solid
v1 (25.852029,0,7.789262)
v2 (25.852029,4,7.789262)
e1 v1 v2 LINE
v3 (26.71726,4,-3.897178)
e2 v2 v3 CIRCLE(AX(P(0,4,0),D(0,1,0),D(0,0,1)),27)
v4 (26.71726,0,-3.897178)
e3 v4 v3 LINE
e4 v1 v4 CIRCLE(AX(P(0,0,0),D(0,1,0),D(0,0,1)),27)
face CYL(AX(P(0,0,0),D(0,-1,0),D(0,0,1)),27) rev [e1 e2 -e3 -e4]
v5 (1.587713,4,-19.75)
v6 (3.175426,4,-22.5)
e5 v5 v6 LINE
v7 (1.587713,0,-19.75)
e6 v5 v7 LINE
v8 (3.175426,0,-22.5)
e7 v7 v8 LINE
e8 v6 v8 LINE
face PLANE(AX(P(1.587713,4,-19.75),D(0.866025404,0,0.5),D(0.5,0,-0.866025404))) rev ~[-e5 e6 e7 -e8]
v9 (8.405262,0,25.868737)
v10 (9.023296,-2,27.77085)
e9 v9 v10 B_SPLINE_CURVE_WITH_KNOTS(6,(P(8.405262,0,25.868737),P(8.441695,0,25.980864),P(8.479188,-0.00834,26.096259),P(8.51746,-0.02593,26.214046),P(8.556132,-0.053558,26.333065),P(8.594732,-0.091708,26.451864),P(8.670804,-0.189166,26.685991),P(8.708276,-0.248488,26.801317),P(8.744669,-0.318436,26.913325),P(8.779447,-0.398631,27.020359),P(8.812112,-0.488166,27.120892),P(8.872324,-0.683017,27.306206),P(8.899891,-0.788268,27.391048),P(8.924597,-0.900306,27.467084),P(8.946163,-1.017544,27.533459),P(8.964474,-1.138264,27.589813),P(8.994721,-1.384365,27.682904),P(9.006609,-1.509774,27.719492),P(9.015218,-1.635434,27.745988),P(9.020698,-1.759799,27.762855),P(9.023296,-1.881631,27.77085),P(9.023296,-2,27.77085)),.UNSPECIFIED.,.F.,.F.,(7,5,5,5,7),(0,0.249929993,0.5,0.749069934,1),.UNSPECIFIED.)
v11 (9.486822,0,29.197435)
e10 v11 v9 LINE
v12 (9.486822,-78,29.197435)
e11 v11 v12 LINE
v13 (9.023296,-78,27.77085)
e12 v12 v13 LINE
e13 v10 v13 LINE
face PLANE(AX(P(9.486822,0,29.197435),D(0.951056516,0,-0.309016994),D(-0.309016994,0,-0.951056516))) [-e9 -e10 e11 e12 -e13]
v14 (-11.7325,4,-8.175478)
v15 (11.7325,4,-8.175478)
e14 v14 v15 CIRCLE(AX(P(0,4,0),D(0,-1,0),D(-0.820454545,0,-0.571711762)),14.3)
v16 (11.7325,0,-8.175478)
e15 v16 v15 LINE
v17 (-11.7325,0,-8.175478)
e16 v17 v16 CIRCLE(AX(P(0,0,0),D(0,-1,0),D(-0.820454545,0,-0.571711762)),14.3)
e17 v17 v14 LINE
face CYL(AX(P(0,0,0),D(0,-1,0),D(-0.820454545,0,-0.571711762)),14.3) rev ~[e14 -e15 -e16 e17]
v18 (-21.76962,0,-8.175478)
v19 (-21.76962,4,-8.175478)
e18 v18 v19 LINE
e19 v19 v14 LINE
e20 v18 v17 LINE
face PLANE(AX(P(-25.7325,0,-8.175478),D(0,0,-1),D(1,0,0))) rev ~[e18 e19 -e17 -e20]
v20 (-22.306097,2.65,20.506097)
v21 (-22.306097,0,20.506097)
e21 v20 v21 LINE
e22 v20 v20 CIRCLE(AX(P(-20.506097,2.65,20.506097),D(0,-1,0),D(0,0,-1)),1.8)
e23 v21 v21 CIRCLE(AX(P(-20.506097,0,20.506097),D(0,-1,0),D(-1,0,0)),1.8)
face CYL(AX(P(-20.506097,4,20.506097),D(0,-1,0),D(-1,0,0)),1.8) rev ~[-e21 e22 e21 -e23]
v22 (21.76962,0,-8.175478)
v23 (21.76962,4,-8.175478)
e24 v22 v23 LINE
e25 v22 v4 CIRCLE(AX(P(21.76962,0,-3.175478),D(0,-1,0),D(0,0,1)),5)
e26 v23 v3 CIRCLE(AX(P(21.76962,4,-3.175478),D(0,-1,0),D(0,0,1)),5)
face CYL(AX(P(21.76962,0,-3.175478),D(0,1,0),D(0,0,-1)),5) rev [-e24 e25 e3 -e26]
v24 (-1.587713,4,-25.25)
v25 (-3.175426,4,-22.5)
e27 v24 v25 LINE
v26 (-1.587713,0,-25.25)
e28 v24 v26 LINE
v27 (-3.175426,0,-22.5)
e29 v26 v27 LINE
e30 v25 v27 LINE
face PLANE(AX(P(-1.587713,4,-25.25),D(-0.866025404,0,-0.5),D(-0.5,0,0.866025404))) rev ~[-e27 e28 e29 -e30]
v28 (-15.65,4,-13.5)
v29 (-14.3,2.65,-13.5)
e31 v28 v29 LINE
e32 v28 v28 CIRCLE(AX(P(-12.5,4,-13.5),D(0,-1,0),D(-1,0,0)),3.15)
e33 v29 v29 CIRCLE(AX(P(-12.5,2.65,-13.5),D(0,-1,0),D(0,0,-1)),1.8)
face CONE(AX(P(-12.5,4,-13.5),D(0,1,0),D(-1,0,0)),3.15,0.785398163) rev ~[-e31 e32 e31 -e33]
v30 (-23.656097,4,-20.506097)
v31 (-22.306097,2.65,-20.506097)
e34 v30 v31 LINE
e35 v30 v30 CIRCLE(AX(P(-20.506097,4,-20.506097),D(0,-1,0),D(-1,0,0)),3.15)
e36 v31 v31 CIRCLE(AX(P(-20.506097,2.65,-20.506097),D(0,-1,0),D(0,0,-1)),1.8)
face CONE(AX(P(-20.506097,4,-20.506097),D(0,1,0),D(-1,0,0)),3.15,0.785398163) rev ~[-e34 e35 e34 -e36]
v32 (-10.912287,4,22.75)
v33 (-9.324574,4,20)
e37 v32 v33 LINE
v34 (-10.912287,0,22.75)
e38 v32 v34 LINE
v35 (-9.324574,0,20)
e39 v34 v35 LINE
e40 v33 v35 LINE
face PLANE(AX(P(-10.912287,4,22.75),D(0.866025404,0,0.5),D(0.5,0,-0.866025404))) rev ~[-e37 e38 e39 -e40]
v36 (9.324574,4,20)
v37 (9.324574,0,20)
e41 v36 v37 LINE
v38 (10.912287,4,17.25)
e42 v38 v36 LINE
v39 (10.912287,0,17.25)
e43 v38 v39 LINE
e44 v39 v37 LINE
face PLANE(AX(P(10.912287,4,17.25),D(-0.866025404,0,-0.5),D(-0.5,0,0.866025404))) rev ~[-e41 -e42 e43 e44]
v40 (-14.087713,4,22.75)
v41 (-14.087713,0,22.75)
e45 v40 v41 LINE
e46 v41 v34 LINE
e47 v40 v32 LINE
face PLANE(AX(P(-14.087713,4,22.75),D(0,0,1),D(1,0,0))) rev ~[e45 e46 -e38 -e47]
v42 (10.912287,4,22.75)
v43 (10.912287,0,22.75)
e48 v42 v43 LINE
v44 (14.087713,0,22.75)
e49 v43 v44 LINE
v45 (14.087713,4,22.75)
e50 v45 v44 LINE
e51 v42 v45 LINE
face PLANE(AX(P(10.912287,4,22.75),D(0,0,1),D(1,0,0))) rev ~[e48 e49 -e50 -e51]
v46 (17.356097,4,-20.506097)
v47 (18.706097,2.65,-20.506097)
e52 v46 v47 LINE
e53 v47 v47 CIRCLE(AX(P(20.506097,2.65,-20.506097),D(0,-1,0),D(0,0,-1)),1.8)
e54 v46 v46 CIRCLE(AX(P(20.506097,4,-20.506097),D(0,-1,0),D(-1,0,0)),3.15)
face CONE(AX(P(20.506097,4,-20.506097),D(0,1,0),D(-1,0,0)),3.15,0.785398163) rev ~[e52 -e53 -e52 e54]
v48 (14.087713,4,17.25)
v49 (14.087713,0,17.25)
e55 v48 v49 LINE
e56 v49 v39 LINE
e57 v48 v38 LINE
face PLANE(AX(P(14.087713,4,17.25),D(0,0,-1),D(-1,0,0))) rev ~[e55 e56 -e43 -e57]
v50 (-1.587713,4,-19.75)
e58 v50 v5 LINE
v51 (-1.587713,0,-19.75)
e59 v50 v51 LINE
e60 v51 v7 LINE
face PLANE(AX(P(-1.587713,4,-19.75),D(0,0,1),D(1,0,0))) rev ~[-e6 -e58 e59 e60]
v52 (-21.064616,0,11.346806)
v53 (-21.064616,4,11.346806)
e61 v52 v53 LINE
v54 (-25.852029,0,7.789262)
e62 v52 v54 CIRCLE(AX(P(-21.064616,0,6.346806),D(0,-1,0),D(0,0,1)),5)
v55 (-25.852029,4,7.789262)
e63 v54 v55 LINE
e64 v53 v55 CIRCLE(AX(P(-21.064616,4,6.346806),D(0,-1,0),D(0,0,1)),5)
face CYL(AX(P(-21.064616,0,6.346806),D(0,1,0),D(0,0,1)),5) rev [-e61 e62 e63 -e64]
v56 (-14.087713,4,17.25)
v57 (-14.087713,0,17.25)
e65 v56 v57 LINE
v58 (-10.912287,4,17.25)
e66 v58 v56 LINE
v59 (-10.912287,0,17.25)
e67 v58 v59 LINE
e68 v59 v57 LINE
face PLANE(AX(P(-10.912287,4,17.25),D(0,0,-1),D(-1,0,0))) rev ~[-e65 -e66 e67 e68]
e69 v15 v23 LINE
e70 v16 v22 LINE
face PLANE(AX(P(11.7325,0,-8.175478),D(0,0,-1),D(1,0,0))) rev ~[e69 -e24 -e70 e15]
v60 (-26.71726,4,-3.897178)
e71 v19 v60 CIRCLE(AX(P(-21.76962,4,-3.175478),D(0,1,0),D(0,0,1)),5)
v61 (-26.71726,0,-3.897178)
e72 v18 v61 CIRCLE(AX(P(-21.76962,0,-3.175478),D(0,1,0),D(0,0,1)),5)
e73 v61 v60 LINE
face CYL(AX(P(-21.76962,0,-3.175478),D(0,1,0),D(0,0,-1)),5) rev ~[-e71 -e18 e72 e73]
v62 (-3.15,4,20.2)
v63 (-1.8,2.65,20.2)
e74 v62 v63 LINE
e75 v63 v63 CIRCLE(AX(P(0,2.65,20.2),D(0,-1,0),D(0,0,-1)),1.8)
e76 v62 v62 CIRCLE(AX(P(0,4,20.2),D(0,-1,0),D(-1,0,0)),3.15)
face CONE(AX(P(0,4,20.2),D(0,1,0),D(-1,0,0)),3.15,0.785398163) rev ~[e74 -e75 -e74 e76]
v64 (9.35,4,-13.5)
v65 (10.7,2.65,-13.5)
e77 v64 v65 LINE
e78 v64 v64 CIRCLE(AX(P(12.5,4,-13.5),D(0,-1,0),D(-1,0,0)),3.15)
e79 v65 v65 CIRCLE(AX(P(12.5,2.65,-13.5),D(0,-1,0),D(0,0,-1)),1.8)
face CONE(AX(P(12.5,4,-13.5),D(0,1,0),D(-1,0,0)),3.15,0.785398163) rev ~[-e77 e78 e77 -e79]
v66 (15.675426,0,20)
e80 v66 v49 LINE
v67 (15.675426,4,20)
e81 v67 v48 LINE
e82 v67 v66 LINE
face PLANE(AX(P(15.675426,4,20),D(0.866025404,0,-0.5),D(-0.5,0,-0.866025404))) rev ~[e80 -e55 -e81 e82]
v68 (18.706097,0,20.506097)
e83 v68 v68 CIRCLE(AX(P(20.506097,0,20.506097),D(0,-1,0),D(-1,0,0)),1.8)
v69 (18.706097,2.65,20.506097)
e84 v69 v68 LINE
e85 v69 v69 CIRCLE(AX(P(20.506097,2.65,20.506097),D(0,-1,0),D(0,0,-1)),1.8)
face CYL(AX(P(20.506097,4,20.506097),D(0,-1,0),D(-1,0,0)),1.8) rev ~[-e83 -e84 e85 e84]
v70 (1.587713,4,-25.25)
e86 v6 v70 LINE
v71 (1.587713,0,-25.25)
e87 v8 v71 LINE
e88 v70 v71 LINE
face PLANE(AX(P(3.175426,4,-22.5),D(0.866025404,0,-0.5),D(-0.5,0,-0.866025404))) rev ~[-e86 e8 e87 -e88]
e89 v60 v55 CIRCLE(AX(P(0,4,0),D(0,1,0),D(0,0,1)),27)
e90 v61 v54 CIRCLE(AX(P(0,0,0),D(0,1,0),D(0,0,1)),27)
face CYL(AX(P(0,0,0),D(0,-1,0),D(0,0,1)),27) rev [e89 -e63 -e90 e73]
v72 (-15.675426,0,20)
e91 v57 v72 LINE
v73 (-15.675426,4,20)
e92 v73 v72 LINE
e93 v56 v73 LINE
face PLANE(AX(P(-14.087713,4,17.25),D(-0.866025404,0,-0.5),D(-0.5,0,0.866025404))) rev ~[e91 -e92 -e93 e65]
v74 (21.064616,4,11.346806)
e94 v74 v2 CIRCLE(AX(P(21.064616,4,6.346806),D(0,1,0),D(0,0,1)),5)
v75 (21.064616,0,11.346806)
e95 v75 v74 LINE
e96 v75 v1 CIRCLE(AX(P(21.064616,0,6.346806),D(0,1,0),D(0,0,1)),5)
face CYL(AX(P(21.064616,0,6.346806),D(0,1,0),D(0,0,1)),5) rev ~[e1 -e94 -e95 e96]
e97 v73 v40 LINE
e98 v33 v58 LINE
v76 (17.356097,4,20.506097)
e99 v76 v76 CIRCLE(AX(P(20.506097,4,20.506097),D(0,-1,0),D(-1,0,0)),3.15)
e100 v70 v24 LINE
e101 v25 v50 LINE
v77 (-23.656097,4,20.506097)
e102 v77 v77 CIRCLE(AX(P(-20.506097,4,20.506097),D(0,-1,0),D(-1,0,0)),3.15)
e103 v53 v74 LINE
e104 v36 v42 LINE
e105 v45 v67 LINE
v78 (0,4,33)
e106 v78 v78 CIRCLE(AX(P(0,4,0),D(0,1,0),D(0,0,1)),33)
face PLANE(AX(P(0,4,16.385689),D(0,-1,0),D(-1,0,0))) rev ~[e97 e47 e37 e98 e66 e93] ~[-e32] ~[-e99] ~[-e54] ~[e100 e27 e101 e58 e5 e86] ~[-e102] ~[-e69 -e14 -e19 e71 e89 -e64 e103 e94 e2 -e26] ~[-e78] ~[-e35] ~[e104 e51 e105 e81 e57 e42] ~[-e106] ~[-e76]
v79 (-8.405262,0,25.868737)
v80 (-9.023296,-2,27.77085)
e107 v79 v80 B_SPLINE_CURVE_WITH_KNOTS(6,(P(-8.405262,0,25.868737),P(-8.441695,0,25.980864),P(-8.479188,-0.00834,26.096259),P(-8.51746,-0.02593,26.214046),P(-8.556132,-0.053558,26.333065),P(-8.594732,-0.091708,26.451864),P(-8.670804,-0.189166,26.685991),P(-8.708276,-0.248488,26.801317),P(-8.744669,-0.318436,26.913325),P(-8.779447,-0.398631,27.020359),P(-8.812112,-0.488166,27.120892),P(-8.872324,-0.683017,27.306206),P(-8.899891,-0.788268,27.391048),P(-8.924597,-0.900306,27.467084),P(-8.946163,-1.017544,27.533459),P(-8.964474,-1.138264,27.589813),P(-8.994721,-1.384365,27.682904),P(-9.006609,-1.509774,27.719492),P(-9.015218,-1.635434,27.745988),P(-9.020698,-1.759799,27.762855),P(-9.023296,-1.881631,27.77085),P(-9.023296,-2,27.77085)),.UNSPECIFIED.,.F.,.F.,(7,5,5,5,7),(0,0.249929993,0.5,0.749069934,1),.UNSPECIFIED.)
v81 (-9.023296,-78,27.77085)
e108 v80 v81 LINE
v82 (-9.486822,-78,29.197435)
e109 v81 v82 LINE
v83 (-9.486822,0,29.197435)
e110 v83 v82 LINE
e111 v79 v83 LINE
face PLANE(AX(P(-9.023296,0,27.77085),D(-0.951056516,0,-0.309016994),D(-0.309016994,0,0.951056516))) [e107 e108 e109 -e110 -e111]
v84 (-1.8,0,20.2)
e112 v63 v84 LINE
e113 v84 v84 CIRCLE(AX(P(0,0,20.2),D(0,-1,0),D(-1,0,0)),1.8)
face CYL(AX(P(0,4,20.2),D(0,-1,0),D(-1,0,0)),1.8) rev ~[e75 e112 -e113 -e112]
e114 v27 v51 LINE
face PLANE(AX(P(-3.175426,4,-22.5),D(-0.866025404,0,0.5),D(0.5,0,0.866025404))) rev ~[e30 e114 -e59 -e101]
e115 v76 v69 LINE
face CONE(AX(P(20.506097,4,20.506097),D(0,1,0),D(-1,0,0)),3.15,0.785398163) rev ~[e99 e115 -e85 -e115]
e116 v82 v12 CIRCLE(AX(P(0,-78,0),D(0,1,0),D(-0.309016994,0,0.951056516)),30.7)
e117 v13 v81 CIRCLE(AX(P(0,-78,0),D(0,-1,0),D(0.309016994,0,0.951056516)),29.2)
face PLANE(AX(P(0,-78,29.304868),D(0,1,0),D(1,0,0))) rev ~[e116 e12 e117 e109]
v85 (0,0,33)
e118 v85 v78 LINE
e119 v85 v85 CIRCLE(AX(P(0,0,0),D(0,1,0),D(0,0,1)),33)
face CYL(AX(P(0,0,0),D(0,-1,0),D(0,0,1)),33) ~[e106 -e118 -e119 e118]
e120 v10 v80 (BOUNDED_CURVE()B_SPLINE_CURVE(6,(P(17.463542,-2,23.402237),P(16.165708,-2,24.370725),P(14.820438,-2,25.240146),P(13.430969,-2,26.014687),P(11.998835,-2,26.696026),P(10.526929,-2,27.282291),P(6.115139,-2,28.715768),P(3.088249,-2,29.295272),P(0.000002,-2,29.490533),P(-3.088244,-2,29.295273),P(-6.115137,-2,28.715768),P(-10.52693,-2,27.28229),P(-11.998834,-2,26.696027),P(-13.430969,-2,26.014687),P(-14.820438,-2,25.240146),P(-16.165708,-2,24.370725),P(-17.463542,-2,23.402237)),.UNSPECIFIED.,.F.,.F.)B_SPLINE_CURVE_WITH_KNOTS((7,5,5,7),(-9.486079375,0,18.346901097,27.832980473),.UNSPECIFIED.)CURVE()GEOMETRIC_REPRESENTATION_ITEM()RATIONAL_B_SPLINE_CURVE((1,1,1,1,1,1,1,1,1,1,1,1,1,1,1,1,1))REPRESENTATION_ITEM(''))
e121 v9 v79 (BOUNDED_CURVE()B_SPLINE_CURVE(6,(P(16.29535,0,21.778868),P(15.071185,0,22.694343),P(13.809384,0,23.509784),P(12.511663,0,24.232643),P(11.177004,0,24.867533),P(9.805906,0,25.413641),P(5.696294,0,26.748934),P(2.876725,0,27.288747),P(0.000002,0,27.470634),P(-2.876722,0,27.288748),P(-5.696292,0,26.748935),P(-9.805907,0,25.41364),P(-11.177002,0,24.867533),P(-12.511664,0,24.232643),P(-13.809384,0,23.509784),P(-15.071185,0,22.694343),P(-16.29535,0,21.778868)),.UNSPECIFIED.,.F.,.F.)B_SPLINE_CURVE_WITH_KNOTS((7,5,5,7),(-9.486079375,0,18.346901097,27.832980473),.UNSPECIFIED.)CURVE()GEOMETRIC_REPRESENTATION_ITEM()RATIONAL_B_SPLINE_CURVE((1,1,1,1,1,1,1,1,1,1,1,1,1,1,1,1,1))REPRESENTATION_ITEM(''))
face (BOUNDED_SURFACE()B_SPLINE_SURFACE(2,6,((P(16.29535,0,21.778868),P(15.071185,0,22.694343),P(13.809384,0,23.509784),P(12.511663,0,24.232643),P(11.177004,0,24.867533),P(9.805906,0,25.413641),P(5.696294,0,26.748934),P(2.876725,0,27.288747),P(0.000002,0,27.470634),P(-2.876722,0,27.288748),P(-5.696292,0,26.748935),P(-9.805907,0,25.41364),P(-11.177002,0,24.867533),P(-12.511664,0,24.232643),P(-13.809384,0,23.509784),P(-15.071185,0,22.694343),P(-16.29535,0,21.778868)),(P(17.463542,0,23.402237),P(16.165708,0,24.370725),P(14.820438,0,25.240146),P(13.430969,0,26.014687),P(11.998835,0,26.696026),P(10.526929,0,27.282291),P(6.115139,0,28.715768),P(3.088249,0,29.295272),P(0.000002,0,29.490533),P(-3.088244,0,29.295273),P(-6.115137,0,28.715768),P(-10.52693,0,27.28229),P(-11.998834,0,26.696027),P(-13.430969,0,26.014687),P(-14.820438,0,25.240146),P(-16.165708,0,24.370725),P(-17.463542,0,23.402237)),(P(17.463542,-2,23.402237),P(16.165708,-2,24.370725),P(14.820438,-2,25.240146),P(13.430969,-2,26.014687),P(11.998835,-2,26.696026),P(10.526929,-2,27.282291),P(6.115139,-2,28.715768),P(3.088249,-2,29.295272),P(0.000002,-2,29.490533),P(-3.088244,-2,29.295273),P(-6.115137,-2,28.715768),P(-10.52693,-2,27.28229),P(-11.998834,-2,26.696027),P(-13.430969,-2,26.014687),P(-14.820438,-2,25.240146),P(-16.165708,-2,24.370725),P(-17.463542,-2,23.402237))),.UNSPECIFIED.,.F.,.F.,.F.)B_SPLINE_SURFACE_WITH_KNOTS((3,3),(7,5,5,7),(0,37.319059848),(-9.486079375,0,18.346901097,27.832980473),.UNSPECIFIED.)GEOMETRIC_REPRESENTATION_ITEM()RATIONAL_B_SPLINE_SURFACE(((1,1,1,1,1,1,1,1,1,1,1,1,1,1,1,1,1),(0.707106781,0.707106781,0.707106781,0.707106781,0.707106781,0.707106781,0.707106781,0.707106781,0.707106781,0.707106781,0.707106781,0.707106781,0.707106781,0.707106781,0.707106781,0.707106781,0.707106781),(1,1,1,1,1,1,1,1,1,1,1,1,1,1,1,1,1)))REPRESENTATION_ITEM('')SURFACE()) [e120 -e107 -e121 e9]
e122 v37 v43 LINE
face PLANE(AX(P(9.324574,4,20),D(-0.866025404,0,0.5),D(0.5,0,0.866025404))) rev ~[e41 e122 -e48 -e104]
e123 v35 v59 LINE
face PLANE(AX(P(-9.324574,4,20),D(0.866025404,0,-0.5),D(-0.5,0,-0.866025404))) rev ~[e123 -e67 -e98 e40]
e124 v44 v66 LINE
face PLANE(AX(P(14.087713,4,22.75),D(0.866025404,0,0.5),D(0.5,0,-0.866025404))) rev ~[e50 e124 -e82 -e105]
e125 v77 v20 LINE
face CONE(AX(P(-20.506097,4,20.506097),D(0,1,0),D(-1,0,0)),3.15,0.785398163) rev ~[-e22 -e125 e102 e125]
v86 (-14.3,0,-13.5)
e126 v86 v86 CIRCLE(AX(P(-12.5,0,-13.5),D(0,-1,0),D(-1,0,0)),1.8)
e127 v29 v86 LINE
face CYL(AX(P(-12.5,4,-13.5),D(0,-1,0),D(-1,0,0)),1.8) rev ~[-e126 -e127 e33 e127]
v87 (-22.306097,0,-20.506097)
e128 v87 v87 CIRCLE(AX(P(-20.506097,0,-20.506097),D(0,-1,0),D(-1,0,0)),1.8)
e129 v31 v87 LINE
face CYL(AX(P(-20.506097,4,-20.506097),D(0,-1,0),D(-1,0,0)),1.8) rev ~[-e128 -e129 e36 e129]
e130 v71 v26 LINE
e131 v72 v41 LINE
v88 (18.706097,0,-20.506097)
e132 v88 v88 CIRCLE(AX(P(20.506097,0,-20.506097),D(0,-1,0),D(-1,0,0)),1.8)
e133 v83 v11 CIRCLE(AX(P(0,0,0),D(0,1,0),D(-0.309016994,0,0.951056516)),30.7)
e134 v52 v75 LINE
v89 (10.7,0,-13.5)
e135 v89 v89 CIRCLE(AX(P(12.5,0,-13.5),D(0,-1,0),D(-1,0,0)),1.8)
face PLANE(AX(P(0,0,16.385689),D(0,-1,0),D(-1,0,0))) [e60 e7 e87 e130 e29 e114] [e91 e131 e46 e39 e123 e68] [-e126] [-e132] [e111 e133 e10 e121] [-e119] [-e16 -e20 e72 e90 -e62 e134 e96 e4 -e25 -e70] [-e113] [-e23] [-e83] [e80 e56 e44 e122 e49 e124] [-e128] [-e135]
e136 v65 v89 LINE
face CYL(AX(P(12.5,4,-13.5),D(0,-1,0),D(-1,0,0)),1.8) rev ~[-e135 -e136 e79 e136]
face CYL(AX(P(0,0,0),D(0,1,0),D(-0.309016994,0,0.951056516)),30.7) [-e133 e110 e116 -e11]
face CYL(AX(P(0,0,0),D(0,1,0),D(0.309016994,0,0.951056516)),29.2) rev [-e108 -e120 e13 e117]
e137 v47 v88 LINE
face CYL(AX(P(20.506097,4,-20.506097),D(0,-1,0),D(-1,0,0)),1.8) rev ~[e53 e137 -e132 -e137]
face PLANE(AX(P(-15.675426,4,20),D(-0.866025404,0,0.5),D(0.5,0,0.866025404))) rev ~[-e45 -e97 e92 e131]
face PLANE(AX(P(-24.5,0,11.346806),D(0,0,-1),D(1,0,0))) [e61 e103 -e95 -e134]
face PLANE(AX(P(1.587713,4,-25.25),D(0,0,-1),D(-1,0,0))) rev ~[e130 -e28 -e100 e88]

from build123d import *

# Parameters (mm, degrees)
SKETCH1_R                                       = 33
SKETCH1_R_2                                     = 27
BOSS_EXTRUDE1_DEPTH                             = 4
SALIENTE_EXTRUIR1_START                         = -4
SKETCH2_R                                       = 1.5
SALIENTE_EXTRUIR1_DEPTH                         = 4
CORTAR_EXTRUIR1_REACH                           = 48.84
CROQUIS1_R                                      = 1.75
CSK_FOR_M3_FLAT_HEAD_MACHINE_SCREW1_D           = 3.6
CSK_FOR_M3_FLAT_HEAD_MACHINE_SCREW1_CSINK_D     = 6.3
CSK_FOR_M3_FLAT_HEAD_MACHINE_SCREW1_CSINK_ANGLE = 90
CSK_FOR_M3_FLAT_HEAD_MACHINE_SCREW2_D           = 3.6
CSK_FOR_M3_FLAT_HEAD_MACHINE_SCREW2_CSINK_D     = 6.3
CSK_FOR_M3_FLAT_HEAD_MACHINE_SCREW2_CSINK_ANGLE = 90
FILLET1_R                                       = 5
BOSS_EXTRUDE2_DEPTH                             = 78
FILLET2_R                                       = 2


with BuildPart() as part:
    # Sketch1 → Boss-Extrude1 (new body)
    with BuildSketch(Plane(origin=(0, 0, 0), x_dir=(1, 0, 0), z_dir=(0, 1, 0))):
        with Locations(Location((0, 0, 0), (0, 0, 270))):
            Circle(SKETCH1_R)
        with Locations(Location((0, 0, 0), (0, 0, 270))):
            Circle(SKETCH1_R_2, mode=Mode.SUBTRACT)
    extrude(amount=BOSS_EXTRUDE1_DEPTH)

    # Sketch2 → Saliente-Extruir1 (add)
    # profile 1 of 2: a face of its own
    with BuildSketch(Plane(origin=(0, 4, 0), x_dir=(1, 0, 0), z_dir=(0, 1, 0)).offset(SALIENTE_EXTRUIR1_START)):
        with BuildLine():
            Line((-24.5, -11.346805718), (24.5, -11.346805718))
            ThreePointArc((24.5, -11.346805718), (0, -27), (-24.5, -11.346805718))
        make_face()
        with Locations(Location((0, -20.2, 0), (0, 0, 270))):
            Circle(SKETCH2_R, mode=Mode.SUBTRACT)
    # profile 2 of 2: a face of its own
    with BuildSketch(Plane(origin=(0, 4, 0), x_dir=(1, 0, 0), z_dir=(0, 1, 0)).offset(SALIENTE_EXTRUIR1_START)):
        with BuildLine():
            Line((-25.7325, 8.175478197), (-11.7325, 8.175478197))
            ThreePointArc((-11.7325, 8.175478197), (0, 14.3), (11.7325, 8.175478197))
            Line((11.7325, 8.175478197), (25.7325, 8.175478197))
            ThreePointArc((25.7325, 8.175478197), (0, 27), (-25.7325, 8.175478197))
        make_face()
        with Locations(Location((-12.5, 13.5, 0), (0, 0, 270))):
            Circle(SKETCH2_R, mode=Mode.SUBTRACT)
        with Locations(Location((12.5, 13.5, 0), (0, 0, 270))):
            Circle(SKETCH2_R, mode=Mode.SUBTRACT)
    extrude(amount=SALIENTE_EXTRUIR1_DEPTH)

    # Croquis1 → Cortar-Extruir1 (cut, up to next)
    with BuildSketch(Plane(origin=(0, 4, 0), x_dir=(1, 0, 0), z_dir=(0, 1, 0)), mode=Mode.PRIVATE) as cortar_extruir1_sk1:
        with Locations(Location((-20.506096654, 20.506096654, 0), (0, 0, 270))):
            Circle(CROQUIS1_R)
    cortar_extruir1_tool1 = extrude(cortar_extruir1_sk1.sketch, amount=-CORTAR_EXTRUIR1_REACH, mode=Mode.PRIVATE) & part.part
    # Croquis1 → Cortar-Extruir1 (cut, up to next)
    with BuildSketch(Plane(origin=(0, 4, 0), x_dir=(1, 0, 0), z_dir=(0, 1, 0)), mode=Mode.PRIVATE) as cortar_extruir1_sk2:
        with Locations(Location((20.506096654, 20.506096654, 0), (0, 0, 270))):
            Circle(CROQUIS1_R)
    cortar_extruir1_tool2 = extrude(cortar_extruir1_sk2.sketch, amount=-CORTAR_EXTRUIR1_REACH, mode=Mode.PRIVATE) & part.part
    # Croquis1 → Cortar-Extruir1 (cut, up to next)
    with BuildSketch(Plane(origin=(0, 4, 0), x_dir=(1, 0, 0), z_dir=(0, 1, 0)), mode=Mode.PRIVATE) as cortar_extruir1_sk3:
        with Locations(Location((-20.506096654, -20.506096654, 0), (0, 0, 270))):
            Circle(CROQUIS1_R)
    cortar_extruir1_tool3 = extrude(cortar_extruir1_sk3.sketch, amount=-CORTAR_EXTRUIR1_REACH, mode=Mode.PRIVATE) & part.part
    # Croquis1 → Cortar-Extruir1 (cut, up to next)
    with BuildSketch(Plane(origin=(0, 4, 0), x_dir=(1, 0, 0), z_dir=(0, 1, 0)), mode=Mode.PRIVATE) as cortar_extruir1_sk4:
        with Locations(Location((20.506096654, -20.506096654, 0), (0, 0, 270))):
            Circle(CROQUIS1_R)
    cortar_extruir1_tool4 = extrude(cortar_extruir1_sk4.sketch, amount=-CORTAR_EXTRUIR1_REACH, mode=Mode.PRIVATE) & part.part
    # Croquis1 → Cortar-Extruir1 (cut, up to next)
    with BuildSketch(Plane(origin=(0, 4, 0), x_dir=(1, 0, 0), z_dir=(0, 1, 0)), mode=Mode.PRIVATE) as cortar_extruir1_sk5:
        Polygon((-9.324573519, -20), (-10.91228676, -17.25), (-14.08771324, -17.25), (-15.675426481, -20), (-14.08771324, -22.75), (-10.91228676, -22.75), align=None)
    cortar_extruir1_tool5 = extrude(cortar_extruir1_sk5.sketch, amount=-CORTAR_EXTRUIR1_REACH, mode=Mode.PRIVATE) & part.part
    # Croquis1 → Cortar-Extruir1 (cut, up to next)
    with BuildSketch(Plane(origin=(0, 4, 0), x_dir=(1, 0, 0), z_dir=(0, 1, 0)), mode=Mode.PRIVATE) as cortar_extruir1_sk6:
        Polygon((15.675426481, -20), (14.08771324, -17.25), (10.91228676, -17.25), (9.324573519, -20), (10.91228676, -22.75), (14.08771324, -22.75), align=None)
    cortar_extruir1_tool6 = extrude(cortar_extruir1_sk6.sketch, amount=-CORTAR_EXTRUIR1_REACH, mode=Mode.PRIVATE) & part.part
    # Croquis1 → Cortar-Extruir1 (cut, up to next)
    with BuildSketch(Plane(origin=(0, 4, 0), x_dir=(1, 0, 0), z_dir=(0, 1, 0)), mode=Mode.PRIVATE) as cortar_extruir1_sk7:
        Polygon((3.175426481, 22.5), (1.58771324, 25.25), (-1.58771324, 25.25), (-3.175426481, 22.5), (-1.58771324, 19.75), (1.58771324, 19.75), align=None)
    cortar_extruir1_tool7 = extrude(cortar_extruir1_sk7.sketch, amount=-CORTAR_EXTRUIR1_REACH, mode=Mode.PRIVATE) & part.part
    add(cortar_extruir1_tool1.solids().sort_by_distance((-20.506097, 4, -20.506097))[0], mode=Mode.SUBTRACT)
    add(cortar_extruir1_tool2.solids().sort_by_distance((20.506097, 4, -20.506097))[0], mode=Mode.SUBTRACT)
    add(cortar_extruir1_tool3.solids().sort_by_distance((-20.506097, 4, 20.506097))[0], mode=Mode.SUBTRACT)
    add(cortar_extruir1_tool4.solids().sort_by_distance((20.506097, 4, 20.506097))[0], mode=Mode.SUBTRACT)
    add(cortar_extruir1_tool5.solids().sort_by_distance((-12.5, 4, 20))[0], mode=Mode.SUBTRACT)
    add(cortar_extruir1_tool6.solids().sort_by_distance((12.5, 4, 20))[0], mode=Mode.SUBTRACT)
    add(cortar_extruir1_tool7.solids().sort_by_distance((0, 4, -22.5))[0], mode=Mode.SUBTRACT)

    # CSK for M3 Flat Head Machine Screw1 (through all)
    with Locations(Plane(origin=(0, 4, 0), x_dir=(1, 0, 0), z_dir=(0, 1, 0))):
        with Locations((-20.506096654, 20.506096654), (20.506096654, 20.506096654), (20.506096654, -20.506096654), (-20.506096654, -20.506096654)):
            CounterSinkHole(CSK_FOR_M3_FLAT_HEAD_MACHINE_SCREW1_D / 2, CSK_FOR_M3_FLAT_HEAD_MACHINE_SCREW1_CSINK_D / 2, counter_sink_angle=CSK_FOR_M3_FLAT_HEAD_MACHINE_SCREW1_CSINK_ANGLE)

    # CSK for M3 Flat Head Machine Screw2 (through all)
    with Locations(Plane(origin=(0, 4, 0), x_dir=(1, 0, 0), z_dir=(0, 1, 0))):
        with Locations((-12.5, 13.5), (12.5, 13.5), (0, -20.2)):
            CounterSinkHole(CSK_FOR_M3_FLAT_HEAD_MACHINE_SCREW2_D / 2, CSK_FOR_M3_FLAT_HEAD_MACHINE_SCREW2_CSINK_D / 2, counter_sink_angle=CSK_FOR_M3_FLAT_HEAD_MACHINE_SCREW2_CSINK_ANGLE)

    # Fillet1
    fillet1_edges = [part.edges().sort_by_distance(p)[0] for p in [
        (-25.7325, 2, -8.175478197),
        (25.7325, 2, -8.175478197),
        (24.5, 2, 11.346805718),
        (-24.5, 2, 11.346805718),
    ]]
    fillet(fillet1_edges, radius=FILLET1_R)

    # Sketch8 → Boss-Extrude2 (add)
    with BuildSketch(Plane(origin=(0, 0, 0), x_dir=(-1, 0, 0), z_dir=(0, -1, 0))):
        with BuildLine():
            Line((-9.486821727, -29.19743505), (-9.023296236, -27.770850276))
            ThreePointArc((-9.023296236, -27.770850276), (0, -29.2), (9.023296236, -27.770850276))
            Line((9.023296236, -27.770850276), (9.486821727, -29.19743505))
            ThreePointArc((9.486821727, -29.19743505), (0, -30.7), (-9.486821727, -29.19743505))
        make_face()
    extrude(amount=BOSS_EXTRUDE2_DEPTH)

    # Fillet2
    fillet2_edges = [part.edges().sort_by_distance(p)[0] for p in [
        (0, 0, 29.2),
    ]]
    fillet(fillet2_edges, radius=FILLET2_R)


solid = part.part
